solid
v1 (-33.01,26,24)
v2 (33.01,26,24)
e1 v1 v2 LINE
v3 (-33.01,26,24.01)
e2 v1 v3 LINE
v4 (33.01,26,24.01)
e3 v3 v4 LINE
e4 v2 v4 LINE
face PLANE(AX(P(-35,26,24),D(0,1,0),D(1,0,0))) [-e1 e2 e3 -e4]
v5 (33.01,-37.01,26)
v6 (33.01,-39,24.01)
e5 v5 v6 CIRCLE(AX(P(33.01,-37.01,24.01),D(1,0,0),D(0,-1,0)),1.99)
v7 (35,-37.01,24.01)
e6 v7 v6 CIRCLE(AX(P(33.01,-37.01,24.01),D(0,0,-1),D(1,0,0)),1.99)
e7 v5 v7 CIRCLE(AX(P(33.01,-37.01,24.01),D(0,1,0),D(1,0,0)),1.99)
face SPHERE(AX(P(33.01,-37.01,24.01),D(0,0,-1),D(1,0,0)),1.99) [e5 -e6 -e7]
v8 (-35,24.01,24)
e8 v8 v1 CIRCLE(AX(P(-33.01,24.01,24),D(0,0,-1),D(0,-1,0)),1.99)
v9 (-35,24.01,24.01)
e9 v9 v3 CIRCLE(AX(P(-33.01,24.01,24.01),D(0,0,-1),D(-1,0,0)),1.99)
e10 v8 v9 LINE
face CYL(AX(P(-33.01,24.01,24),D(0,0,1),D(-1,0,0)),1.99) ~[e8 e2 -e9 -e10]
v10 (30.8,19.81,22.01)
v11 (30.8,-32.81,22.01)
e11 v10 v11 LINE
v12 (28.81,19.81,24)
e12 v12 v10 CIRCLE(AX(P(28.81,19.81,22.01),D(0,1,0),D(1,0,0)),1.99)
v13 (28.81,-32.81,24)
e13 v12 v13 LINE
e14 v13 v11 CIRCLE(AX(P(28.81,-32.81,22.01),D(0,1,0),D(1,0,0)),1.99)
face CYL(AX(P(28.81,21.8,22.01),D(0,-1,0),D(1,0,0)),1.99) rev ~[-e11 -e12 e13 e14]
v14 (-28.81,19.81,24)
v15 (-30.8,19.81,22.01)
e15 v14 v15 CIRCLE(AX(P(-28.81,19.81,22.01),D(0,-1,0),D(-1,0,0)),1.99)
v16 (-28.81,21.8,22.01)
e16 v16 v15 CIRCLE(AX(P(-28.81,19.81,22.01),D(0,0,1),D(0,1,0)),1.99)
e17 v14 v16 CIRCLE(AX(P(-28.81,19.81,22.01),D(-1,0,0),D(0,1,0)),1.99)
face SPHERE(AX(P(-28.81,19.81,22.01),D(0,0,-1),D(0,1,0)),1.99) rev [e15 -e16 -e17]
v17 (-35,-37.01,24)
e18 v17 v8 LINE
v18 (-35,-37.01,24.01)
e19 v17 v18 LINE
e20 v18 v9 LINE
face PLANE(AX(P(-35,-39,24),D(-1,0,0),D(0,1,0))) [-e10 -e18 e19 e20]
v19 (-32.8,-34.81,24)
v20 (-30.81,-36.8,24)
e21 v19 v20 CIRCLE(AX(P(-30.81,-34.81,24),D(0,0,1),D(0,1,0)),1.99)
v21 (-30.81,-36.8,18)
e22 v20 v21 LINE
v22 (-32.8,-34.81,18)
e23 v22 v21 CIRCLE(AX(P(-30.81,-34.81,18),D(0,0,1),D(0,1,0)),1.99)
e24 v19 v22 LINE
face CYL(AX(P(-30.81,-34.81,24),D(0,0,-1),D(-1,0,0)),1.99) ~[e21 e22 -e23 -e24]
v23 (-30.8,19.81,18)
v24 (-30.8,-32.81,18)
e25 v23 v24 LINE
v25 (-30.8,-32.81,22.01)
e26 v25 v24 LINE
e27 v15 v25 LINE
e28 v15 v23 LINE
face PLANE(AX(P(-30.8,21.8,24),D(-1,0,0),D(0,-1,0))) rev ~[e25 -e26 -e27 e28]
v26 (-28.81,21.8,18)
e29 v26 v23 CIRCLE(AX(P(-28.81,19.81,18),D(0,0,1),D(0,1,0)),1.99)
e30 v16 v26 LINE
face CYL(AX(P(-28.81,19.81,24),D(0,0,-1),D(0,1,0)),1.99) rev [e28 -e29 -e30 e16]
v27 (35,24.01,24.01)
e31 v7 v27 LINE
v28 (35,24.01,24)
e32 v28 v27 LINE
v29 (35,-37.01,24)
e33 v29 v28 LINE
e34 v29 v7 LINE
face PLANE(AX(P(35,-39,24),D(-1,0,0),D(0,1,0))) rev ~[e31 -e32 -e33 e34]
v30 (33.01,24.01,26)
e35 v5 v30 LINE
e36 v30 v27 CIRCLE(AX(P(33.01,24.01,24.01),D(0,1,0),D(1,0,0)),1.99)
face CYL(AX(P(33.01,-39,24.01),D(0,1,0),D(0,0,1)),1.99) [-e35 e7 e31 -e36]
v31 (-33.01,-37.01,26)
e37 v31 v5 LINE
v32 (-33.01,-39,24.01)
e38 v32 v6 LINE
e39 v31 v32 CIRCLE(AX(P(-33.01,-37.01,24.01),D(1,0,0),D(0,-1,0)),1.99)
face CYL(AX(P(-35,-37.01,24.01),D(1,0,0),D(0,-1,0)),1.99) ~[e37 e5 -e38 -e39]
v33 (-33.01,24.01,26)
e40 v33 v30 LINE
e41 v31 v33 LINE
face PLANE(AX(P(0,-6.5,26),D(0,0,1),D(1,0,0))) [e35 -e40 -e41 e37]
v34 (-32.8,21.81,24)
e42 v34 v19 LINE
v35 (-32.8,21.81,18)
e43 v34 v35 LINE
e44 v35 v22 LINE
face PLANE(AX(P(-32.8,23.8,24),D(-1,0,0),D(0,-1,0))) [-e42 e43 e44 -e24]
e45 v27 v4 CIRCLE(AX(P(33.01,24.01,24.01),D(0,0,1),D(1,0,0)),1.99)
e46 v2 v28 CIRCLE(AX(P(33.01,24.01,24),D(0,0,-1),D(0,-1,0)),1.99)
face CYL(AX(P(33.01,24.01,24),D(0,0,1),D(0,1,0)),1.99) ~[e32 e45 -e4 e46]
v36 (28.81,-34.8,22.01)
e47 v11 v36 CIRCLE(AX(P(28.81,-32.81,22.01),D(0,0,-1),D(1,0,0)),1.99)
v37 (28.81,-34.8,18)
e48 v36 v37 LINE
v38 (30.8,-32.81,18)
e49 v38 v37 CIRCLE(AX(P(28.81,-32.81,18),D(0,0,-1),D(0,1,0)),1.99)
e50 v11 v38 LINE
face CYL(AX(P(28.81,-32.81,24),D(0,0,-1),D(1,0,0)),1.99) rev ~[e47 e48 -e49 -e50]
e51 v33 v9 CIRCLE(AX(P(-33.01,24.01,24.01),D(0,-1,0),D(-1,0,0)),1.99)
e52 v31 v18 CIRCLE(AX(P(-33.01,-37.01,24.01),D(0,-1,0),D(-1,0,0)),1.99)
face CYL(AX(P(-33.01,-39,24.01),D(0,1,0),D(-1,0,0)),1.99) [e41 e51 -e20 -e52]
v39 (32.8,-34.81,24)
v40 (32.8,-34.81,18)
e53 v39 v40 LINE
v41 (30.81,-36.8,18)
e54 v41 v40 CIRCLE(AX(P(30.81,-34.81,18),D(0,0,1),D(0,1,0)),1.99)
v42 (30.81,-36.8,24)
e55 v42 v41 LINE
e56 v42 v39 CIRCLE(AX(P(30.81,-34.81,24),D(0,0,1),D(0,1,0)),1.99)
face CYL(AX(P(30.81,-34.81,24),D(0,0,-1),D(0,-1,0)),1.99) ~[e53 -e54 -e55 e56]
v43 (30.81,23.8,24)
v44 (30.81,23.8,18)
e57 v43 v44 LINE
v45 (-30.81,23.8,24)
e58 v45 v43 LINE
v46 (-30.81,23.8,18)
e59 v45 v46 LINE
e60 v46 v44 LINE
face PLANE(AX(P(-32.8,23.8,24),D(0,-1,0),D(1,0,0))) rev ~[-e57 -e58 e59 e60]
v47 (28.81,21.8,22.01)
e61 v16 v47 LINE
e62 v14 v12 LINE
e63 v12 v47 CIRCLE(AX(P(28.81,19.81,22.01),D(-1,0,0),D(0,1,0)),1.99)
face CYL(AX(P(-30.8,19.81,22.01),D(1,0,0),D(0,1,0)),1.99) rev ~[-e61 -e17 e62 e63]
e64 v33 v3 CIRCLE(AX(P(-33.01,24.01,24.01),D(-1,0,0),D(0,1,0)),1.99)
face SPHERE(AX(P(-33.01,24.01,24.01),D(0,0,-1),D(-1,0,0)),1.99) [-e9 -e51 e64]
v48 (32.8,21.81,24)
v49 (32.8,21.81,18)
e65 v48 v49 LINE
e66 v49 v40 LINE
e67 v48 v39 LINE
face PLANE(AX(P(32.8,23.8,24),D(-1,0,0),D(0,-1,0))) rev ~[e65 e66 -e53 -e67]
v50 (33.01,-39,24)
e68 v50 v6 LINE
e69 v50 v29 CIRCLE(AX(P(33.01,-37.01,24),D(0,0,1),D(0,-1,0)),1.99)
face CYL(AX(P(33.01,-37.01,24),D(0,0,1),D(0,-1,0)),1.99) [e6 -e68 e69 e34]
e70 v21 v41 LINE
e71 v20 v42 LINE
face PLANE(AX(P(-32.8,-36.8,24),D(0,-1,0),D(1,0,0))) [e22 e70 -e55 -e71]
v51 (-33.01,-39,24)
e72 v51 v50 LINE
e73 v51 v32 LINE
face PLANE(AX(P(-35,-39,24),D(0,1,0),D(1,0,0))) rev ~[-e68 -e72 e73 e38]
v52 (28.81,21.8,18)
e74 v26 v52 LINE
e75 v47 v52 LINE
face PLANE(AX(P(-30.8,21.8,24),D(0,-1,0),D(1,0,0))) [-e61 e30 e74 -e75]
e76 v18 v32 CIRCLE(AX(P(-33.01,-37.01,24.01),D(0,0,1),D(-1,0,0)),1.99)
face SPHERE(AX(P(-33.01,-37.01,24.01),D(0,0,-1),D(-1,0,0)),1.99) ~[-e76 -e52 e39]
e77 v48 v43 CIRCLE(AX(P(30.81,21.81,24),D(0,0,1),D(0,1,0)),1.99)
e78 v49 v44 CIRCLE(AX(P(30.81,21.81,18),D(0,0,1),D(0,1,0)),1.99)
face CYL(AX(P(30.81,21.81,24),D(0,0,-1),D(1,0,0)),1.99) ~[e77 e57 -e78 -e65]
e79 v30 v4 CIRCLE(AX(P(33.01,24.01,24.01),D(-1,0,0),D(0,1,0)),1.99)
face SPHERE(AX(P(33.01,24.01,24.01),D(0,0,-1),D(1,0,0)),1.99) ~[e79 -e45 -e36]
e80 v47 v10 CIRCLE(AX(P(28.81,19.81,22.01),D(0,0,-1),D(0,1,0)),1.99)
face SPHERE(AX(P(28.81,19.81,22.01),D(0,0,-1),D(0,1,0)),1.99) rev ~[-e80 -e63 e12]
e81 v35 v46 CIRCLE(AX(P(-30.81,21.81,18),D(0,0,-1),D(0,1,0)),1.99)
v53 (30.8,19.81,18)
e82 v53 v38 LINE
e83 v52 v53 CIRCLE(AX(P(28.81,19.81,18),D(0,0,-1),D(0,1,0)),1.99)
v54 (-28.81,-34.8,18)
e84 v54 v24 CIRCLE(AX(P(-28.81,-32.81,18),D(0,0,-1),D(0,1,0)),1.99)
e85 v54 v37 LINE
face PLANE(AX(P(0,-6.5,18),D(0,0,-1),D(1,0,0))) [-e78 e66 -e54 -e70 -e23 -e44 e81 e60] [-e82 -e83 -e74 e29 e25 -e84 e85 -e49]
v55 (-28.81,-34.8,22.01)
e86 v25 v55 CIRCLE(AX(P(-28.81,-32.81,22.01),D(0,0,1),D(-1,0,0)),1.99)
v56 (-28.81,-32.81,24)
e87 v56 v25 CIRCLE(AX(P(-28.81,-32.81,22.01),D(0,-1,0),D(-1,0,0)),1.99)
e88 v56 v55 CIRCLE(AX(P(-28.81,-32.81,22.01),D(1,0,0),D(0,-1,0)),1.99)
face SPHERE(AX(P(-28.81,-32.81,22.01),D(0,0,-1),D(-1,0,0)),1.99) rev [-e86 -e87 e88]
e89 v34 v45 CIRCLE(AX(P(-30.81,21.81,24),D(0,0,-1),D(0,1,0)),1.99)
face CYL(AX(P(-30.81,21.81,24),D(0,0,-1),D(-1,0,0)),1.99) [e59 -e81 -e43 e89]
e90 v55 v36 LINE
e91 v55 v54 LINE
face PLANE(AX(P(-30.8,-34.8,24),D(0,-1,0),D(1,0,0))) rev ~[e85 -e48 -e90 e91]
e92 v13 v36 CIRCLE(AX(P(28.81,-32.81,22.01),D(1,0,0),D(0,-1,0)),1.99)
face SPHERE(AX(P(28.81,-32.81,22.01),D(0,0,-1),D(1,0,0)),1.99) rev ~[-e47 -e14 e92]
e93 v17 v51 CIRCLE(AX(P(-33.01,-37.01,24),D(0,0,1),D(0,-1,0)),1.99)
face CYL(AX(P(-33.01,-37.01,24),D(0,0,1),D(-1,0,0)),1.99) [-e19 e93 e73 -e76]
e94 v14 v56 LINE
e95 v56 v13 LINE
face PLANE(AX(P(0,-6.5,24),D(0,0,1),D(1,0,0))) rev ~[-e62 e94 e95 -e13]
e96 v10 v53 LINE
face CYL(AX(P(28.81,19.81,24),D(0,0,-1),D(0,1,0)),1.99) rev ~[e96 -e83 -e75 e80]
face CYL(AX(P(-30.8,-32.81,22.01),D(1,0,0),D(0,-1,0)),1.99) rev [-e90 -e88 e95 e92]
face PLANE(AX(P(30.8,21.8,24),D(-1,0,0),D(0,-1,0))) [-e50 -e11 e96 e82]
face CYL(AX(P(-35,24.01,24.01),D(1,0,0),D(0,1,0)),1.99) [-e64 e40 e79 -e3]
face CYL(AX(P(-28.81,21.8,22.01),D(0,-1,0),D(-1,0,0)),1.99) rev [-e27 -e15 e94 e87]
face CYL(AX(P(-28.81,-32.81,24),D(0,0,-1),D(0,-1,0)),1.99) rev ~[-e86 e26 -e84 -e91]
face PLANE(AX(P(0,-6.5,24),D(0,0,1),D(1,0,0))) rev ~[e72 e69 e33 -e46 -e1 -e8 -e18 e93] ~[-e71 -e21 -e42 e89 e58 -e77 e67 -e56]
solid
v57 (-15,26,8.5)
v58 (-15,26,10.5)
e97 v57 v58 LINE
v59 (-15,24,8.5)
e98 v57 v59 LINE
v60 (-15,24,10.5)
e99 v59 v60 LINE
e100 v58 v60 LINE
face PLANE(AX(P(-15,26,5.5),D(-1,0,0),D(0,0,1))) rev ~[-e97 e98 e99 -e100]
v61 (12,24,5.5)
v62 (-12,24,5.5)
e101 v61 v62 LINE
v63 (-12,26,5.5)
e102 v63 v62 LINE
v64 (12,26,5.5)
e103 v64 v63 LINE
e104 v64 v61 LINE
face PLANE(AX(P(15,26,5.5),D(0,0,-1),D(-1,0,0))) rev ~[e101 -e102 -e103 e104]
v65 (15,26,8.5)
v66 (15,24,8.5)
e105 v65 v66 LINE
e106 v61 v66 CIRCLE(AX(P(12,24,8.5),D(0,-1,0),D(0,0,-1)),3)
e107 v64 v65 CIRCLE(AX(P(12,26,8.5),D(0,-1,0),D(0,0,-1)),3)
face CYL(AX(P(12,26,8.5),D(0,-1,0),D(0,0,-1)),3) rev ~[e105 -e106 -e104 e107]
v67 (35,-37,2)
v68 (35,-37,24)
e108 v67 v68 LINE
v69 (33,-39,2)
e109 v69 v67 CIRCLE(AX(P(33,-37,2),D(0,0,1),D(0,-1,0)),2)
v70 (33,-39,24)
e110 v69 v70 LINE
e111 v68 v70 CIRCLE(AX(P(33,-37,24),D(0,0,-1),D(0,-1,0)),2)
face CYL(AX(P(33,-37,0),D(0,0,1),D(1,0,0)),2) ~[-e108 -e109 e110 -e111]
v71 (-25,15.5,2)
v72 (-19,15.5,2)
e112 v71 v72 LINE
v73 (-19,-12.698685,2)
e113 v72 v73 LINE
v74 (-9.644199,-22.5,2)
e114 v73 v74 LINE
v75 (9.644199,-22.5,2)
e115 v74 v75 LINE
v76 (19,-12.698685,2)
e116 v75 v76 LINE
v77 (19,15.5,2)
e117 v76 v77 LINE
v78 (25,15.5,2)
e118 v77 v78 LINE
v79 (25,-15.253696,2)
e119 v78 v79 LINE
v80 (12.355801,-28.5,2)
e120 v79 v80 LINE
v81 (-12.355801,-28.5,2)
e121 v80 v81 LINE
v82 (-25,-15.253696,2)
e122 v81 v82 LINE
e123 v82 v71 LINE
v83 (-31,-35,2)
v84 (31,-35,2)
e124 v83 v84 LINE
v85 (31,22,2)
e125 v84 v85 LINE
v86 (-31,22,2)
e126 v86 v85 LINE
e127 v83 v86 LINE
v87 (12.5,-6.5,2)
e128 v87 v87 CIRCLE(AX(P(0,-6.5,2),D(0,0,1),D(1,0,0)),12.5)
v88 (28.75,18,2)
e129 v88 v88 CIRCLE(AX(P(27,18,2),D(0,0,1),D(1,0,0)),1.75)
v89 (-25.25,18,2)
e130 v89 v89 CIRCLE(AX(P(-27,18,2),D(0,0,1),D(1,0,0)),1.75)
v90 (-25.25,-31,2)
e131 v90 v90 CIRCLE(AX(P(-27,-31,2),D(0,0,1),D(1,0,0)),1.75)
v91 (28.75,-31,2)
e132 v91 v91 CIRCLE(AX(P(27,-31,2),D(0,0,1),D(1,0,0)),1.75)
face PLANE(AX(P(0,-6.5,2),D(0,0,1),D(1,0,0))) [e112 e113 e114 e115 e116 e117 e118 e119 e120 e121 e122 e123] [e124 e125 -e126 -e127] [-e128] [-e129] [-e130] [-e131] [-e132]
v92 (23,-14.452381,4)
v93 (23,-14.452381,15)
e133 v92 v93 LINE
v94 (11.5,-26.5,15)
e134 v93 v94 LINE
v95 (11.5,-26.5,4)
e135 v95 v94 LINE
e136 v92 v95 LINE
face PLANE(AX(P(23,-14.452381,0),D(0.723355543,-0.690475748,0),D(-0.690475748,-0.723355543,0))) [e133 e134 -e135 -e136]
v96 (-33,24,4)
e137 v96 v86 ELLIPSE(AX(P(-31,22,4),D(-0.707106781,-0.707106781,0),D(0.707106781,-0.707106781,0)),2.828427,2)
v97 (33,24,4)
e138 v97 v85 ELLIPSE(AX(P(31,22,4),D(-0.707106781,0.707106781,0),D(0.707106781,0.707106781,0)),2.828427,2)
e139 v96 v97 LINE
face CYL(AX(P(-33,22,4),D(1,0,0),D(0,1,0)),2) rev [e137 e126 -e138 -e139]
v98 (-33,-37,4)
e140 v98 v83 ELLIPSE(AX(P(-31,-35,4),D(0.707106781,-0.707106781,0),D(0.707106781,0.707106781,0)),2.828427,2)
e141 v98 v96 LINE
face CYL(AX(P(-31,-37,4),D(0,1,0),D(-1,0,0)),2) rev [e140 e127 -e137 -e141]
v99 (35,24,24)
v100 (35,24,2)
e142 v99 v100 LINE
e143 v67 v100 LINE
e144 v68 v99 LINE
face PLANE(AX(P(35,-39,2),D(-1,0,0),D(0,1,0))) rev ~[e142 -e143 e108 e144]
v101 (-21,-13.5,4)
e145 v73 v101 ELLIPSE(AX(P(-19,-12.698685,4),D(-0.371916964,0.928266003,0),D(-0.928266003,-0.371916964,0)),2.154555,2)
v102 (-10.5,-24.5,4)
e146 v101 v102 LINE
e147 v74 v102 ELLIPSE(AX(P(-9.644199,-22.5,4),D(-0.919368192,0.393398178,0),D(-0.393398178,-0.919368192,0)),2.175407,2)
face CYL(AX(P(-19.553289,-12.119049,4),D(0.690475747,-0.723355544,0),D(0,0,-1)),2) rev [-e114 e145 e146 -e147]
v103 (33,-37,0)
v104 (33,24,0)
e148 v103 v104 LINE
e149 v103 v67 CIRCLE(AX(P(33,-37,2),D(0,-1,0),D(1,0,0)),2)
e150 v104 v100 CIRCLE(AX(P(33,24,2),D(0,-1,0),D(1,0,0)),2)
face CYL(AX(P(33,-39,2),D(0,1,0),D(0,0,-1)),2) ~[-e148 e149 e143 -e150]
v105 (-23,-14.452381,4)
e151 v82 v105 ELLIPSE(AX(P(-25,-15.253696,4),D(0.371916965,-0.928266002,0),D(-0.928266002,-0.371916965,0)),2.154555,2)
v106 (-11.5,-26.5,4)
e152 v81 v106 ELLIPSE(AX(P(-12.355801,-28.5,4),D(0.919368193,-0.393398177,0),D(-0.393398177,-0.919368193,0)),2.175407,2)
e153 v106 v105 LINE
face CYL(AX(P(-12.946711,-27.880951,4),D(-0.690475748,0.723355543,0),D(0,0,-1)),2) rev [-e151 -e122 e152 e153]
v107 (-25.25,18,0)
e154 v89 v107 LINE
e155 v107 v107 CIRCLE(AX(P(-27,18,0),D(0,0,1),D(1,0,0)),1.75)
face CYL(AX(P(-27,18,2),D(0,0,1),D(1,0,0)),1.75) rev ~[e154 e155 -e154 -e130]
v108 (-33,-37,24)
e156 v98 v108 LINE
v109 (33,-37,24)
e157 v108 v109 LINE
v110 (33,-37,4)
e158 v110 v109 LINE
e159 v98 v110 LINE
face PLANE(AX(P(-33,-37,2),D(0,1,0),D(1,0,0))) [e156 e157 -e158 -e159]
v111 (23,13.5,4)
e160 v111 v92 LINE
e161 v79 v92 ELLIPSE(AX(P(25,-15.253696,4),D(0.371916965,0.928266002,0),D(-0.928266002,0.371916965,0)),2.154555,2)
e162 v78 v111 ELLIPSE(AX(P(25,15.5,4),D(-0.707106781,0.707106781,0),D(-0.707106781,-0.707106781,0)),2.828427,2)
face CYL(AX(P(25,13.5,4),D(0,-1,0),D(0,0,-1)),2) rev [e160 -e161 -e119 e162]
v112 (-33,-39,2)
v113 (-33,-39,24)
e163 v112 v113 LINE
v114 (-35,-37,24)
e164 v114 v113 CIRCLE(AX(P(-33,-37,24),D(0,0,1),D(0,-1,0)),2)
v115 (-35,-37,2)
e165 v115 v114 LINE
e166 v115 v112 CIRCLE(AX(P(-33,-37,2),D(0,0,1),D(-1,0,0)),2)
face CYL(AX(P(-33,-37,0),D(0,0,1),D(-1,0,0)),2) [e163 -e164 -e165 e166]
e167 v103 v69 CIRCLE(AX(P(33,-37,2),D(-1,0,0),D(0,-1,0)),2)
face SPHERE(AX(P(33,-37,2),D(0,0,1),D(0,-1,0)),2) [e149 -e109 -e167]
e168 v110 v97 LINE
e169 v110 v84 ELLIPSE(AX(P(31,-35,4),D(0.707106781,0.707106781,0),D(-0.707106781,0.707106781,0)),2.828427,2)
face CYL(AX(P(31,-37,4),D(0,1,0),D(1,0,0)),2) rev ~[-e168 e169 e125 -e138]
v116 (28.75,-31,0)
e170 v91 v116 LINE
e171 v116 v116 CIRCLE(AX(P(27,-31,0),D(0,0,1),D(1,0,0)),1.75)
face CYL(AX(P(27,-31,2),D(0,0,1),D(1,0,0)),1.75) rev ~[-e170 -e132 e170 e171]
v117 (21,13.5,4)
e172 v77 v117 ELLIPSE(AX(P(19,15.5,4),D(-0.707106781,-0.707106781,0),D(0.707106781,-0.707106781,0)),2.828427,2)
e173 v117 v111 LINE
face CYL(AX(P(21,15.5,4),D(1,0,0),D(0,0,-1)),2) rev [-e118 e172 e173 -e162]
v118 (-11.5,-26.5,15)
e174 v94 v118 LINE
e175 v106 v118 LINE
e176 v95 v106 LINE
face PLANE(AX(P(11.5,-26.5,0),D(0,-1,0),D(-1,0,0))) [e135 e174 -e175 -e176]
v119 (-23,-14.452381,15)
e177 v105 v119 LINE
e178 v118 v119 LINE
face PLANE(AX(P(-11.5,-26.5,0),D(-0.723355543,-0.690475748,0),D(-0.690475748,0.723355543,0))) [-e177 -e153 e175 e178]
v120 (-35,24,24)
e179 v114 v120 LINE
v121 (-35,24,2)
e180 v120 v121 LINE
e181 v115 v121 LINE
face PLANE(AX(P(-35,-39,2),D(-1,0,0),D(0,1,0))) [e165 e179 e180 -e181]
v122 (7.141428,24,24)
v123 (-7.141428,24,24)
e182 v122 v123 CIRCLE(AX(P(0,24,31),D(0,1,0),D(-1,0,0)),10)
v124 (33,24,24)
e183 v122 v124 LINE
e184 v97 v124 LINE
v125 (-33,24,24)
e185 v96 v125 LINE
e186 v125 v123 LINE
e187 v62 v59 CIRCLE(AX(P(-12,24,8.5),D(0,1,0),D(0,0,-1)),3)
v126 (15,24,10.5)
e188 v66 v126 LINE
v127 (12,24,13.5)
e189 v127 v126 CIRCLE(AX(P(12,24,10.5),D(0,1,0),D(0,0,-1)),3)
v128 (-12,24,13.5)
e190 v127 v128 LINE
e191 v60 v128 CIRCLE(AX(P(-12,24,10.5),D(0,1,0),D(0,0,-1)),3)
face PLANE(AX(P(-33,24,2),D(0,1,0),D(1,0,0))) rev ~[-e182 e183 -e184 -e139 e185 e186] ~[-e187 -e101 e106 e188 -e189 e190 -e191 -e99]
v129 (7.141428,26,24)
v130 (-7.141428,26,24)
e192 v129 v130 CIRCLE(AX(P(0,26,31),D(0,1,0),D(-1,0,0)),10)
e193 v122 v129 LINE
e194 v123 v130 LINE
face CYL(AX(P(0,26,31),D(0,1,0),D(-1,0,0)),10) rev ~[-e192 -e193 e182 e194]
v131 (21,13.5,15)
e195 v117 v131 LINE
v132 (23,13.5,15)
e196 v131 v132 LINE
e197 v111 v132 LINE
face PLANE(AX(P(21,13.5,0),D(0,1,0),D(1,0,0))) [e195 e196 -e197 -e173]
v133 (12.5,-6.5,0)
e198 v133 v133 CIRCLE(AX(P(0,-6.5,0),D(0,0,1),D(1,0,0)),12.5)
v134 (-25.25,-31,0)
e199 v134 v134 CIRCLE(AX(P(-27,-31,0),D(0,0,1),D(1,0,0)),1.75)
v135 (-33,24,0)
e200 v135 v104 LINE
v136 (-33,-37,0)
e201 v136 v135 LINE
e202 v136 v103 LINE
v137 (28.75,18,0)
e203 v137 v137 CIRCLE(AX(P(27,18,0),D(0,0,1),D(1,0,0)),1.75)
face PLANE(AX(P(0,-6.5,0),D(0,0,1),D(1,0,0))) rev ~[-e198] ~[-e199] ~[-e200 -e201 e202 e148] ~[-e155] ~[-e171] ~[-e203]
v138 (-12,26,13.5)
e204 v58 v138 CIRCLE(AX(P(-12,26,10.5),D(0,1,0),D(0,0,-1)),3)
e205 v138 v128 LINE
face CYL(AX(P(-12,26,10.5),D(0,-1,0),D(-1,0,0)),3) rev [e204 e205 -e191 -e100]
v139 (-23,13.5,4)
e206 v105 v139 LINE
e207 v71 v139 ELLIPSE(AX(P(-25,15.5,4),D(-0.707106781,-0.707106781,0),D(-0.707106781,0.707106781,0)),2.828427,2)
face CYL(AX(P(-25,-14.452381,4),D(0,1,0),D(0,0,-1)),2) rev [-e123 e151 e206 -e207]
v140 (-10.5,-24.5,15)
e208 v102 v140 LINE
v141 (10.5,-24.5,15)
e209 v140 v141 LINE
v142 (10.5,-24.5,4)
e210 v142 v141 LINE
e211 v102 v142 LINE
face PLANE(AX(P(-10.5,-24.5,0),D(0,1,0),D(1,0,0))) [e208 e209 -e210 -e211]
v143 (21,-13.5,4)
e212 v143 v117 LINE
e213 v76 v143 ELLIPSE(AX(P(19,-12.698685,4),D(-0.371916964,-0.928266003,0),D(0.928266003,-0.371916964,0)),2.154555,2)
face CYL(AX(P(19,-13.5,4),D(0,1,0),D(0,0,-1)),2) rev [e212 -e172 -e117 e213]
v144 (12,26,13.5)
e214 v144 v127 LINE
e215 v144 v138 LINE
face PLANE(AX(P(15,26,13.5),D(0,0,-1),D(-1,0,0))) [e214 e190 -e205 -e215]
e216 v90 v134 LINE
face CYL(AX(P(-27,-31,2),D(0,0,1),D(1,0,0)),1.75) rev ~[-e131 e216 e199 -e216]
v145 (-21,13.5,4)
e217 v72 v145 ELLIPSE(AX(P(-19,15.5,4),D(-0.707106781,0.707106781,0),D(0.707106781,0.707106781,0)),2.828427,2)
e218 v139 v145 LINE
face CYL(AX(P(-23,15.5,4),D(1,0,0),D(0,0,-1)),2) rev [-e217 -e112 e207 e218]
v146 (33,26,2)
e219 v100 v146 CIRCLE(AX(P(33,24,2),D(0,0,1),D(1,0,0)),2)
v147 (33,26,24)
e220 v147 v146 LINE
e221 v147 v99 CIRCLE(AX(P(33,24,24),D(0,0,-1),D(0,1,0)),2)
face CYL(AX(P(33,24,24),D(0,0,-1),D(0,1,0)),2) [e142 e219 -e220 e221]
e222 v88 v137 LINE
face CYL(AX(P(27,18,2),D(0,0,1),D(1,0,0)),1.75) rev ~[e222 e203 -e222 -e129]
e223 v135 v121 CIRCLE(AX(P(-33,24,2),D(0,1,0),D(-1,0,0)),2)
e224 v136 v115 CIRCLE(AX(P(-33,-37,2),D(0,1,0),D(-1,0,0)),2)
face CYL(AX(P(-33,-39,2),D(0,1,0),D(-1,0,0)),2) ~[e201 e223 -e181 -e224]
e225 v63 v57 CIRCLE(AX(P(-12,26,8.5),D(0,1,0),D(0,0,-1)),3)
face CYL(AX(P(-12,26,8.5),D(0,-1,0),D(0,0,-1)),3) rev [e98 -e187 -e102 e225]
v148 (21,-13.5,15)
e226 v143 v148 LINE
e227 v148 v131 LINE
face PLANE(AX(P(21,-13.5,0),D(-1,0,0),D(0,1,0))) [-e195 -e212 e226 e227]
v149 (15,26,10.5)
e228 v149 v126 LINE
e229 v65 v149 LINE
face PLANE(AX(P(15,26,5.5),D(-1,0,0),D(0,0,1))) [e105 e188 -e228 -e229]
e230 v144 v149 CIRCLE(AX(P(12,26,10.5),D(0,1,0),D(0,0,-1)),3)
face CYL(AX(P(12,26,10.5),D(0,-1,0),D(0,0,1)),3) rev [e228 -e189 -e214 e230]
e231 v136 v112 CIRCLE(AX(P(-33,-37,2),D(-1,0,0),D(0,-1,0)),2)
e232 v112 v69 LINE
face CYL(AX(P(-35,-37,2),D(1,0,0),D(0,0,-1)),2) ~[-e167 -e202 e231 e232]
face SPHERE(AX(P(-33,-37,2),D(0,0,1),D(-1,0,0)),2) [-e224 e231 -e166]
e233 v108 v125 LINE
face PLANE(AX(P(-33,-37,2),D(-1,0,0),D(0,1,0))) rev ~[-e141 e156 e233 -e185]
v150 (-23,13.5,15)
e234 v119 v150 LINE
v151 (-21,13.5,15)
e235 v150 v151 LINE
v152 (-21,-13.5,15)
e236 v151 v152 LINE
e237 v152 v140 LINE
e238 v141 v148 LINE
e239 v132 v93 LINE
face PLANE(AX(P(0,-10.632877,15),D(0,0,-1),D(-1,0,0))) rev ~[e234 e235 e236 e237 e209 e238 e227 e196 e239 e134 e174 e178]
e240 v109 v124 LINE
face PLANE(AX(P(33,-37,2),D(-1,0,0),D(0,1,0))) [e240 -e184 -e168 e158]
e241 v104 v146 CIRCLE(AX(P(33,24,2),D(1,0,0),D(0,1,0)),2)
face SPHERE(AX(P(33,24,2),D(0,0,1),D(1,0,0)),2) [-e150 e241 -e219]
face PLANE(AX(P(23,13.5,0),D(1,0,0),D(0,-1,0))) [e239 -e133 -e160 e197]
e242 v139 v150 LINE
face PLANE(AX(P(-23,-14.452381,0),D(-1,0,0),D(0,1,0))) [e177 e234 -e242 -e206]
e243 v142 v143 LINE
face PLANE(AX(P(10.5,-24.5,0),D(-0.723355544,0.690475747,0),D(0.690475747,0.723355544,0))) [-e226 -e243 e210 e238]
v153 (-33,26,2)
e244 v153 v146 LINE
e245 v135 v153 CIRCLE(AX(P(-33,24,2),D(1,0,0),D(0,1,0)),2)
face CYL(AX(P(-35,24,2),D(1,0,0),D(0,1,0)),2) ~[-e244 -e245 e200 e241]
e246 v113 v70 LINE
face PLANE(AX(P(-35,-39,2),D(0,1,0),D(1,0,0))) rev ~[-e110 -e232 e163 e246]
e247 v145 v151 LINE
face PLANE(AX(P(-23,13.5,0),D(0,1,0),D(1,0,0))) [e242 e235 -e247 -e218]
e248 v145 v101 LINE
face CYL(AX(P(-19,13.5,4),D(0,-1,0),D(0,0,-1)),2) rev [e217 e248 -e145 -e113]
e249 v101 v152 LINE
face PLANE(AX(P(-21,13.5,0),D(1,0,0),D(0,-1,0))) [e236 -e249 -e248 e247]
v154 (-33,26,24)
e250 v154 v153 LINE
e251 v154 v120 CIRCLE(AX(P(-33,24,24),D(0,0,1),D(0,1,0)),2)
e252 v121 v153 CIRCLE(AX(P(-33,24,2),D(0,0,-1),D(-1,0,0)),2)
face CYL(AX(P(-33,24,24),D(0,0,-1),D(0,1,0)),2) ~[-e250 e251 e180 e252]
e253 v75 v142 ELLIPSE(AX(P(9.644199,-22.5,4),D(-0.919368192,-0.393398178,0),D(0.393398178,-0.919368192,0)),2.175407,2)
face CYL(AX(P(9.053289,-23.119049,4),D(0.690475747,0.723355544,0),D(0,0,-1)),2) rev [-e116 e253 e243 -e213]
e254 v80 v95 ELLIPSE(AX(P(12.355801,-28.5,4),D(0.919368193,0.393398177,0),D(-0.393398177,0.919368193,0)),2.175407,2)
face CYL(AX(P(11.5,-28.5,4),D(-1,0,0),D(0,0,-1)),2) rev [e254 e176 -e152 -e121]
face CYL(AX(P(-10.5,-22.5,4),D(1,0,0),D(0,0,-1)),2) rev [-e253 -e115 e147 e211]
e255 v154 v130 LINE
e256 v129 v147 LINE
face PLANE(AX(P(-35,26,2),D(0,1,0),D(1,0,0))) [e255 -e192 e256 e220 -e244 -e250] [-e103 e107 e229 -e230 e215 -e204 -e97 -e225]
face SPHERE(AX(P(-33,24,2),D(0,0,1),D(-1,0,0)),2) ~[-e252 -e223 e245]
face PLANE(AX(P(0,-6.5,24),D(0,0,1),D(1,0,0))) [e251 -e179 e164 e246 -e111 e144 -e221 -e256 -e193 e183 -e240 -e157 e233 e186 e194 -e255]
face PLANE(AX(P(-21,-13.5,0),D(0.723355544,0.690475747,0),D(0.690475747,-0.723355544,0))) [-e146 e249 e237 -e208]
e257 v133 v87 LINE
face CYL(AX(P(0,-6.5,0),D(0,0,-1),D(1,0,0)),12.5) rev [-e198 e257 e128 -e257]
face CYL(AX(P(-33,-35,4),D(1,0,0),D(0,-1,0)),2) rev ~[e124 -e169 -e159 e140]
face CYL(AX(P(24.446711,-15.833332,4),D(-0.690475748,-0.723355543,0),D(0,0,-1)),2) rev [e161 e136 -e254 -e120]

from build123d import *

# Parameters (mm, degrees)
PAD_DEPTH       = 15
SKETCH001_W     = 70
SKETCH001_H     = 65
SKETCH001_R     = 12.5
PAD001_DEPTH    = 2
SKETCH002_W     = 70
SKETCH002_H     = 65
SKETCH002_W_2   = 66
SKETCH002_H_2   = 61
PAD002_DEPTH    = 22
SKETCH003_W     = 30
SKETCH003_H     = 8
POCKET_DEPTH    = 2
SKETCH004_R     = 1.75
POCKET001_DEPTH = 2.001
FILLET_R        = 3
FILLET001_R     = 2
SKETCH007_R     = 10
POCKET002_DEPTH = 5
SKETCH005_W     = 70
SKETCH005_H     = 65
PAD003_DEPTH    = 2
SKETCH006_W     = 65.6
SKETCH006_H     = 60.6
SKETCH006_W_2   = 61.6
SKETCH006_H_2   = 56.6
PAD004_DEPTH    = 6
FILLET002_R     = 1.99


with BuildPart() as shellyplus2pmbox:
    # Sketch → Pad (new body)
    with BuildSketch(Plane.XY):
        Polygon((21, -13.5), (21, 13.5), (23, 13.5), (23, -14.452381), (11.5, -26.5), (-11.5, -26.5), (-23, -14.452381), (-23, 13.5), (-21, 13.5), (-21, -13.5), (-10.5, -24.5), (10.5, -24.5), align=None)
    extrude(amount=PAD_DEPTH)

    # Sketch001 → Pad001 (join)
    with BuildSketch(Plane.XY):
        with Locations((0, -6.5)):
            Rectangle(SKETCH001_W, SKETCH001_H)
        with Locations((0, -6.5)):
            Circle(SKETCH001_R, mode=Mode.SUBTRACT)
    extrude(amount=PAD001_DEPTH)

    # Sketch002 (on Face5 of Pad001) → Pad002 (join)
    with BuildSketch(Plane.XY.offset(2)):
        with Locations((0, -6.5)):
            Rectangle(SKETCH002_W, SKETCH002_H)
        with Locations((0, -6.5)):
            Rectangle(SKETCH002_W_2, SKETCH002_H_2, mode=Mode.SUBTRACT)
    extrude(amount=PAD002_DEPTH)

    # Sketch003 (on Face24 of Pad002) → Pocket (cut)
    with BuildSketch(Plane(origin=(0, 26, 0), x_dir=(-1, 0, 0), z_dir=(0, 1, 0))):
        with Locations((0, 9.5)):
            Rectangle(SKETCH003_W, SKETCH003_H)
    extrude(amount=-POCKET_DEPTH, mode=Mode.SUBTRACT)

    # Sketch004 (on Face12 of Pocket) → Pocket001 (cut, through all)
    with BuildSketch(Plane.XY.offset(2)):
        with Locations((-27, 18)):
            Circle(SKETCH004_R)
        with Locations((27, 18)):
            Circle(SKETCH004_R)
        with Locations((-27, -31)):
            Circle(SKETCH004_R)
        with Locations((27, -31)):
            Circle(SKETCH004_R)
    extrude(amount=-POCKET001_DEPTH, mode=Mode.SUBTRACT)

    # Fillet
    fillet_edges = [shellyplus2pmbox.edges().sort_by_distance(p)[0] for p in [
        (-15, 25, 13.5),
        (-15, 25, 5.5),
        (15, 25, 5.5),
        (15, 25, 13.5),
    ]]
    fillet(fillet_edges, radius=FILLET_R)

    # Fillet001
    fillet001_edges = [shellyplus2pmbox.edges().sort_by_distance(p)[0] for p in [
        (-35, 26, 12),
        (35, 26, 12),
        (35, -39, 12),
        (-35, -39, 12),
        (-35, -6.5, 0),
        (0, -39, 0),
        (35, -6.5, 0),
        (0, 26, 0),
        (0, 24, 2),
        (-33, -6.5, 2),
        (33, -6.5, 2),
        (0, -37, 2),
        (0, -26.5, 2),
        (-17.25, -20.47619, 2),
        (-23, -0.47619, 2),
        (17.25, -20.47619, 2),
        (23, -0.47619, 2),
        (-22, 13.5, 2),
        (22, 13.5, 2),
        (-21, 0, 2),
        (-15.75, -19, 2),
        (0, -24.5, 2),
        (15.75, -19, 2),
        (21, 0, 2),
    ]]
    fillet(fillet001_edges, radius=FILLET001_R)

    # Sketch007 (on Face1 of Fillet001) → Pocket002 (cut)
    with BuildSketch(Plane(origin=(0, 26, 0), x_dir=(-1, 0, 0), z_dir=(0, 1, 0))):
        with Locations((0, 31)):
            Circle(SKETCH007_R)
    extrude(amount=-POCKET002_DEPTH, mode=Mode.SUBTRACT)


with BuildPart() as shellyplus2pmlid:
    # Sketch005 (on Face1 of Binder) → Pad003 (new body)
    with BuildSketch(Plane.XY.offset(24)):
        with Locations((0, -6.5)):
            Rectangle(SKETCH005_W, SKETCH005_H)
    extrude(amount=PAD003_DEPTH)

    # Sketch006 (on Face5 of Pad003) → Pad004 (join)
    with BuildSketch(Plane(origin=(0, 0, 24), x_dir=(1, 0, 0), z_dir=(0, 0, -1))):
        with Locations((0, 6.5)):
            Rectangle(SKETCH006_W, SKETCH006_H)
        with Locations((0, 6.5)):
            Rectangle(SKETCH006_W_2, SKETCH006_H_2, mode=Mode.SUBTRACT)
    extrude(amount=PAD004_DEPTH)

    # Fillet002
    fillet002_edges = [shellyplus2pmlid.edges().sort_by_distance(p)[0] for p in [
        (-32.8, 23.8, 21),
        (-35, 26, 25),
        (35, 26, 25),
        (32.8, 23.8, 21),
        (32.8, -36.8, 21),
        (35, -39, 25),
        (-32.8, -36.8, 21),
        (-35, -39, 25),
        (-30.8, 21.8, 21),
        (30.8, 21.8, 21),
        (30.8, -34.8, 21),
        (-30.8, -34.8, 21),
        (0, 21.8, 24),
        (-30.8, -6.5, 24),
        (30.8, -6.5, 24),
        (0, -34.8, 24),
        (-35, -6.5, 26),
        (35, -6.5, 26),
        (0, 26, 26),
        (0, -39, 26),
    ]]
    fillet(fillet002_edges, radius=FILLET002_R)


solid = Compound([shellyplus2pmbox.part, shellyplus2pmlid.part])
